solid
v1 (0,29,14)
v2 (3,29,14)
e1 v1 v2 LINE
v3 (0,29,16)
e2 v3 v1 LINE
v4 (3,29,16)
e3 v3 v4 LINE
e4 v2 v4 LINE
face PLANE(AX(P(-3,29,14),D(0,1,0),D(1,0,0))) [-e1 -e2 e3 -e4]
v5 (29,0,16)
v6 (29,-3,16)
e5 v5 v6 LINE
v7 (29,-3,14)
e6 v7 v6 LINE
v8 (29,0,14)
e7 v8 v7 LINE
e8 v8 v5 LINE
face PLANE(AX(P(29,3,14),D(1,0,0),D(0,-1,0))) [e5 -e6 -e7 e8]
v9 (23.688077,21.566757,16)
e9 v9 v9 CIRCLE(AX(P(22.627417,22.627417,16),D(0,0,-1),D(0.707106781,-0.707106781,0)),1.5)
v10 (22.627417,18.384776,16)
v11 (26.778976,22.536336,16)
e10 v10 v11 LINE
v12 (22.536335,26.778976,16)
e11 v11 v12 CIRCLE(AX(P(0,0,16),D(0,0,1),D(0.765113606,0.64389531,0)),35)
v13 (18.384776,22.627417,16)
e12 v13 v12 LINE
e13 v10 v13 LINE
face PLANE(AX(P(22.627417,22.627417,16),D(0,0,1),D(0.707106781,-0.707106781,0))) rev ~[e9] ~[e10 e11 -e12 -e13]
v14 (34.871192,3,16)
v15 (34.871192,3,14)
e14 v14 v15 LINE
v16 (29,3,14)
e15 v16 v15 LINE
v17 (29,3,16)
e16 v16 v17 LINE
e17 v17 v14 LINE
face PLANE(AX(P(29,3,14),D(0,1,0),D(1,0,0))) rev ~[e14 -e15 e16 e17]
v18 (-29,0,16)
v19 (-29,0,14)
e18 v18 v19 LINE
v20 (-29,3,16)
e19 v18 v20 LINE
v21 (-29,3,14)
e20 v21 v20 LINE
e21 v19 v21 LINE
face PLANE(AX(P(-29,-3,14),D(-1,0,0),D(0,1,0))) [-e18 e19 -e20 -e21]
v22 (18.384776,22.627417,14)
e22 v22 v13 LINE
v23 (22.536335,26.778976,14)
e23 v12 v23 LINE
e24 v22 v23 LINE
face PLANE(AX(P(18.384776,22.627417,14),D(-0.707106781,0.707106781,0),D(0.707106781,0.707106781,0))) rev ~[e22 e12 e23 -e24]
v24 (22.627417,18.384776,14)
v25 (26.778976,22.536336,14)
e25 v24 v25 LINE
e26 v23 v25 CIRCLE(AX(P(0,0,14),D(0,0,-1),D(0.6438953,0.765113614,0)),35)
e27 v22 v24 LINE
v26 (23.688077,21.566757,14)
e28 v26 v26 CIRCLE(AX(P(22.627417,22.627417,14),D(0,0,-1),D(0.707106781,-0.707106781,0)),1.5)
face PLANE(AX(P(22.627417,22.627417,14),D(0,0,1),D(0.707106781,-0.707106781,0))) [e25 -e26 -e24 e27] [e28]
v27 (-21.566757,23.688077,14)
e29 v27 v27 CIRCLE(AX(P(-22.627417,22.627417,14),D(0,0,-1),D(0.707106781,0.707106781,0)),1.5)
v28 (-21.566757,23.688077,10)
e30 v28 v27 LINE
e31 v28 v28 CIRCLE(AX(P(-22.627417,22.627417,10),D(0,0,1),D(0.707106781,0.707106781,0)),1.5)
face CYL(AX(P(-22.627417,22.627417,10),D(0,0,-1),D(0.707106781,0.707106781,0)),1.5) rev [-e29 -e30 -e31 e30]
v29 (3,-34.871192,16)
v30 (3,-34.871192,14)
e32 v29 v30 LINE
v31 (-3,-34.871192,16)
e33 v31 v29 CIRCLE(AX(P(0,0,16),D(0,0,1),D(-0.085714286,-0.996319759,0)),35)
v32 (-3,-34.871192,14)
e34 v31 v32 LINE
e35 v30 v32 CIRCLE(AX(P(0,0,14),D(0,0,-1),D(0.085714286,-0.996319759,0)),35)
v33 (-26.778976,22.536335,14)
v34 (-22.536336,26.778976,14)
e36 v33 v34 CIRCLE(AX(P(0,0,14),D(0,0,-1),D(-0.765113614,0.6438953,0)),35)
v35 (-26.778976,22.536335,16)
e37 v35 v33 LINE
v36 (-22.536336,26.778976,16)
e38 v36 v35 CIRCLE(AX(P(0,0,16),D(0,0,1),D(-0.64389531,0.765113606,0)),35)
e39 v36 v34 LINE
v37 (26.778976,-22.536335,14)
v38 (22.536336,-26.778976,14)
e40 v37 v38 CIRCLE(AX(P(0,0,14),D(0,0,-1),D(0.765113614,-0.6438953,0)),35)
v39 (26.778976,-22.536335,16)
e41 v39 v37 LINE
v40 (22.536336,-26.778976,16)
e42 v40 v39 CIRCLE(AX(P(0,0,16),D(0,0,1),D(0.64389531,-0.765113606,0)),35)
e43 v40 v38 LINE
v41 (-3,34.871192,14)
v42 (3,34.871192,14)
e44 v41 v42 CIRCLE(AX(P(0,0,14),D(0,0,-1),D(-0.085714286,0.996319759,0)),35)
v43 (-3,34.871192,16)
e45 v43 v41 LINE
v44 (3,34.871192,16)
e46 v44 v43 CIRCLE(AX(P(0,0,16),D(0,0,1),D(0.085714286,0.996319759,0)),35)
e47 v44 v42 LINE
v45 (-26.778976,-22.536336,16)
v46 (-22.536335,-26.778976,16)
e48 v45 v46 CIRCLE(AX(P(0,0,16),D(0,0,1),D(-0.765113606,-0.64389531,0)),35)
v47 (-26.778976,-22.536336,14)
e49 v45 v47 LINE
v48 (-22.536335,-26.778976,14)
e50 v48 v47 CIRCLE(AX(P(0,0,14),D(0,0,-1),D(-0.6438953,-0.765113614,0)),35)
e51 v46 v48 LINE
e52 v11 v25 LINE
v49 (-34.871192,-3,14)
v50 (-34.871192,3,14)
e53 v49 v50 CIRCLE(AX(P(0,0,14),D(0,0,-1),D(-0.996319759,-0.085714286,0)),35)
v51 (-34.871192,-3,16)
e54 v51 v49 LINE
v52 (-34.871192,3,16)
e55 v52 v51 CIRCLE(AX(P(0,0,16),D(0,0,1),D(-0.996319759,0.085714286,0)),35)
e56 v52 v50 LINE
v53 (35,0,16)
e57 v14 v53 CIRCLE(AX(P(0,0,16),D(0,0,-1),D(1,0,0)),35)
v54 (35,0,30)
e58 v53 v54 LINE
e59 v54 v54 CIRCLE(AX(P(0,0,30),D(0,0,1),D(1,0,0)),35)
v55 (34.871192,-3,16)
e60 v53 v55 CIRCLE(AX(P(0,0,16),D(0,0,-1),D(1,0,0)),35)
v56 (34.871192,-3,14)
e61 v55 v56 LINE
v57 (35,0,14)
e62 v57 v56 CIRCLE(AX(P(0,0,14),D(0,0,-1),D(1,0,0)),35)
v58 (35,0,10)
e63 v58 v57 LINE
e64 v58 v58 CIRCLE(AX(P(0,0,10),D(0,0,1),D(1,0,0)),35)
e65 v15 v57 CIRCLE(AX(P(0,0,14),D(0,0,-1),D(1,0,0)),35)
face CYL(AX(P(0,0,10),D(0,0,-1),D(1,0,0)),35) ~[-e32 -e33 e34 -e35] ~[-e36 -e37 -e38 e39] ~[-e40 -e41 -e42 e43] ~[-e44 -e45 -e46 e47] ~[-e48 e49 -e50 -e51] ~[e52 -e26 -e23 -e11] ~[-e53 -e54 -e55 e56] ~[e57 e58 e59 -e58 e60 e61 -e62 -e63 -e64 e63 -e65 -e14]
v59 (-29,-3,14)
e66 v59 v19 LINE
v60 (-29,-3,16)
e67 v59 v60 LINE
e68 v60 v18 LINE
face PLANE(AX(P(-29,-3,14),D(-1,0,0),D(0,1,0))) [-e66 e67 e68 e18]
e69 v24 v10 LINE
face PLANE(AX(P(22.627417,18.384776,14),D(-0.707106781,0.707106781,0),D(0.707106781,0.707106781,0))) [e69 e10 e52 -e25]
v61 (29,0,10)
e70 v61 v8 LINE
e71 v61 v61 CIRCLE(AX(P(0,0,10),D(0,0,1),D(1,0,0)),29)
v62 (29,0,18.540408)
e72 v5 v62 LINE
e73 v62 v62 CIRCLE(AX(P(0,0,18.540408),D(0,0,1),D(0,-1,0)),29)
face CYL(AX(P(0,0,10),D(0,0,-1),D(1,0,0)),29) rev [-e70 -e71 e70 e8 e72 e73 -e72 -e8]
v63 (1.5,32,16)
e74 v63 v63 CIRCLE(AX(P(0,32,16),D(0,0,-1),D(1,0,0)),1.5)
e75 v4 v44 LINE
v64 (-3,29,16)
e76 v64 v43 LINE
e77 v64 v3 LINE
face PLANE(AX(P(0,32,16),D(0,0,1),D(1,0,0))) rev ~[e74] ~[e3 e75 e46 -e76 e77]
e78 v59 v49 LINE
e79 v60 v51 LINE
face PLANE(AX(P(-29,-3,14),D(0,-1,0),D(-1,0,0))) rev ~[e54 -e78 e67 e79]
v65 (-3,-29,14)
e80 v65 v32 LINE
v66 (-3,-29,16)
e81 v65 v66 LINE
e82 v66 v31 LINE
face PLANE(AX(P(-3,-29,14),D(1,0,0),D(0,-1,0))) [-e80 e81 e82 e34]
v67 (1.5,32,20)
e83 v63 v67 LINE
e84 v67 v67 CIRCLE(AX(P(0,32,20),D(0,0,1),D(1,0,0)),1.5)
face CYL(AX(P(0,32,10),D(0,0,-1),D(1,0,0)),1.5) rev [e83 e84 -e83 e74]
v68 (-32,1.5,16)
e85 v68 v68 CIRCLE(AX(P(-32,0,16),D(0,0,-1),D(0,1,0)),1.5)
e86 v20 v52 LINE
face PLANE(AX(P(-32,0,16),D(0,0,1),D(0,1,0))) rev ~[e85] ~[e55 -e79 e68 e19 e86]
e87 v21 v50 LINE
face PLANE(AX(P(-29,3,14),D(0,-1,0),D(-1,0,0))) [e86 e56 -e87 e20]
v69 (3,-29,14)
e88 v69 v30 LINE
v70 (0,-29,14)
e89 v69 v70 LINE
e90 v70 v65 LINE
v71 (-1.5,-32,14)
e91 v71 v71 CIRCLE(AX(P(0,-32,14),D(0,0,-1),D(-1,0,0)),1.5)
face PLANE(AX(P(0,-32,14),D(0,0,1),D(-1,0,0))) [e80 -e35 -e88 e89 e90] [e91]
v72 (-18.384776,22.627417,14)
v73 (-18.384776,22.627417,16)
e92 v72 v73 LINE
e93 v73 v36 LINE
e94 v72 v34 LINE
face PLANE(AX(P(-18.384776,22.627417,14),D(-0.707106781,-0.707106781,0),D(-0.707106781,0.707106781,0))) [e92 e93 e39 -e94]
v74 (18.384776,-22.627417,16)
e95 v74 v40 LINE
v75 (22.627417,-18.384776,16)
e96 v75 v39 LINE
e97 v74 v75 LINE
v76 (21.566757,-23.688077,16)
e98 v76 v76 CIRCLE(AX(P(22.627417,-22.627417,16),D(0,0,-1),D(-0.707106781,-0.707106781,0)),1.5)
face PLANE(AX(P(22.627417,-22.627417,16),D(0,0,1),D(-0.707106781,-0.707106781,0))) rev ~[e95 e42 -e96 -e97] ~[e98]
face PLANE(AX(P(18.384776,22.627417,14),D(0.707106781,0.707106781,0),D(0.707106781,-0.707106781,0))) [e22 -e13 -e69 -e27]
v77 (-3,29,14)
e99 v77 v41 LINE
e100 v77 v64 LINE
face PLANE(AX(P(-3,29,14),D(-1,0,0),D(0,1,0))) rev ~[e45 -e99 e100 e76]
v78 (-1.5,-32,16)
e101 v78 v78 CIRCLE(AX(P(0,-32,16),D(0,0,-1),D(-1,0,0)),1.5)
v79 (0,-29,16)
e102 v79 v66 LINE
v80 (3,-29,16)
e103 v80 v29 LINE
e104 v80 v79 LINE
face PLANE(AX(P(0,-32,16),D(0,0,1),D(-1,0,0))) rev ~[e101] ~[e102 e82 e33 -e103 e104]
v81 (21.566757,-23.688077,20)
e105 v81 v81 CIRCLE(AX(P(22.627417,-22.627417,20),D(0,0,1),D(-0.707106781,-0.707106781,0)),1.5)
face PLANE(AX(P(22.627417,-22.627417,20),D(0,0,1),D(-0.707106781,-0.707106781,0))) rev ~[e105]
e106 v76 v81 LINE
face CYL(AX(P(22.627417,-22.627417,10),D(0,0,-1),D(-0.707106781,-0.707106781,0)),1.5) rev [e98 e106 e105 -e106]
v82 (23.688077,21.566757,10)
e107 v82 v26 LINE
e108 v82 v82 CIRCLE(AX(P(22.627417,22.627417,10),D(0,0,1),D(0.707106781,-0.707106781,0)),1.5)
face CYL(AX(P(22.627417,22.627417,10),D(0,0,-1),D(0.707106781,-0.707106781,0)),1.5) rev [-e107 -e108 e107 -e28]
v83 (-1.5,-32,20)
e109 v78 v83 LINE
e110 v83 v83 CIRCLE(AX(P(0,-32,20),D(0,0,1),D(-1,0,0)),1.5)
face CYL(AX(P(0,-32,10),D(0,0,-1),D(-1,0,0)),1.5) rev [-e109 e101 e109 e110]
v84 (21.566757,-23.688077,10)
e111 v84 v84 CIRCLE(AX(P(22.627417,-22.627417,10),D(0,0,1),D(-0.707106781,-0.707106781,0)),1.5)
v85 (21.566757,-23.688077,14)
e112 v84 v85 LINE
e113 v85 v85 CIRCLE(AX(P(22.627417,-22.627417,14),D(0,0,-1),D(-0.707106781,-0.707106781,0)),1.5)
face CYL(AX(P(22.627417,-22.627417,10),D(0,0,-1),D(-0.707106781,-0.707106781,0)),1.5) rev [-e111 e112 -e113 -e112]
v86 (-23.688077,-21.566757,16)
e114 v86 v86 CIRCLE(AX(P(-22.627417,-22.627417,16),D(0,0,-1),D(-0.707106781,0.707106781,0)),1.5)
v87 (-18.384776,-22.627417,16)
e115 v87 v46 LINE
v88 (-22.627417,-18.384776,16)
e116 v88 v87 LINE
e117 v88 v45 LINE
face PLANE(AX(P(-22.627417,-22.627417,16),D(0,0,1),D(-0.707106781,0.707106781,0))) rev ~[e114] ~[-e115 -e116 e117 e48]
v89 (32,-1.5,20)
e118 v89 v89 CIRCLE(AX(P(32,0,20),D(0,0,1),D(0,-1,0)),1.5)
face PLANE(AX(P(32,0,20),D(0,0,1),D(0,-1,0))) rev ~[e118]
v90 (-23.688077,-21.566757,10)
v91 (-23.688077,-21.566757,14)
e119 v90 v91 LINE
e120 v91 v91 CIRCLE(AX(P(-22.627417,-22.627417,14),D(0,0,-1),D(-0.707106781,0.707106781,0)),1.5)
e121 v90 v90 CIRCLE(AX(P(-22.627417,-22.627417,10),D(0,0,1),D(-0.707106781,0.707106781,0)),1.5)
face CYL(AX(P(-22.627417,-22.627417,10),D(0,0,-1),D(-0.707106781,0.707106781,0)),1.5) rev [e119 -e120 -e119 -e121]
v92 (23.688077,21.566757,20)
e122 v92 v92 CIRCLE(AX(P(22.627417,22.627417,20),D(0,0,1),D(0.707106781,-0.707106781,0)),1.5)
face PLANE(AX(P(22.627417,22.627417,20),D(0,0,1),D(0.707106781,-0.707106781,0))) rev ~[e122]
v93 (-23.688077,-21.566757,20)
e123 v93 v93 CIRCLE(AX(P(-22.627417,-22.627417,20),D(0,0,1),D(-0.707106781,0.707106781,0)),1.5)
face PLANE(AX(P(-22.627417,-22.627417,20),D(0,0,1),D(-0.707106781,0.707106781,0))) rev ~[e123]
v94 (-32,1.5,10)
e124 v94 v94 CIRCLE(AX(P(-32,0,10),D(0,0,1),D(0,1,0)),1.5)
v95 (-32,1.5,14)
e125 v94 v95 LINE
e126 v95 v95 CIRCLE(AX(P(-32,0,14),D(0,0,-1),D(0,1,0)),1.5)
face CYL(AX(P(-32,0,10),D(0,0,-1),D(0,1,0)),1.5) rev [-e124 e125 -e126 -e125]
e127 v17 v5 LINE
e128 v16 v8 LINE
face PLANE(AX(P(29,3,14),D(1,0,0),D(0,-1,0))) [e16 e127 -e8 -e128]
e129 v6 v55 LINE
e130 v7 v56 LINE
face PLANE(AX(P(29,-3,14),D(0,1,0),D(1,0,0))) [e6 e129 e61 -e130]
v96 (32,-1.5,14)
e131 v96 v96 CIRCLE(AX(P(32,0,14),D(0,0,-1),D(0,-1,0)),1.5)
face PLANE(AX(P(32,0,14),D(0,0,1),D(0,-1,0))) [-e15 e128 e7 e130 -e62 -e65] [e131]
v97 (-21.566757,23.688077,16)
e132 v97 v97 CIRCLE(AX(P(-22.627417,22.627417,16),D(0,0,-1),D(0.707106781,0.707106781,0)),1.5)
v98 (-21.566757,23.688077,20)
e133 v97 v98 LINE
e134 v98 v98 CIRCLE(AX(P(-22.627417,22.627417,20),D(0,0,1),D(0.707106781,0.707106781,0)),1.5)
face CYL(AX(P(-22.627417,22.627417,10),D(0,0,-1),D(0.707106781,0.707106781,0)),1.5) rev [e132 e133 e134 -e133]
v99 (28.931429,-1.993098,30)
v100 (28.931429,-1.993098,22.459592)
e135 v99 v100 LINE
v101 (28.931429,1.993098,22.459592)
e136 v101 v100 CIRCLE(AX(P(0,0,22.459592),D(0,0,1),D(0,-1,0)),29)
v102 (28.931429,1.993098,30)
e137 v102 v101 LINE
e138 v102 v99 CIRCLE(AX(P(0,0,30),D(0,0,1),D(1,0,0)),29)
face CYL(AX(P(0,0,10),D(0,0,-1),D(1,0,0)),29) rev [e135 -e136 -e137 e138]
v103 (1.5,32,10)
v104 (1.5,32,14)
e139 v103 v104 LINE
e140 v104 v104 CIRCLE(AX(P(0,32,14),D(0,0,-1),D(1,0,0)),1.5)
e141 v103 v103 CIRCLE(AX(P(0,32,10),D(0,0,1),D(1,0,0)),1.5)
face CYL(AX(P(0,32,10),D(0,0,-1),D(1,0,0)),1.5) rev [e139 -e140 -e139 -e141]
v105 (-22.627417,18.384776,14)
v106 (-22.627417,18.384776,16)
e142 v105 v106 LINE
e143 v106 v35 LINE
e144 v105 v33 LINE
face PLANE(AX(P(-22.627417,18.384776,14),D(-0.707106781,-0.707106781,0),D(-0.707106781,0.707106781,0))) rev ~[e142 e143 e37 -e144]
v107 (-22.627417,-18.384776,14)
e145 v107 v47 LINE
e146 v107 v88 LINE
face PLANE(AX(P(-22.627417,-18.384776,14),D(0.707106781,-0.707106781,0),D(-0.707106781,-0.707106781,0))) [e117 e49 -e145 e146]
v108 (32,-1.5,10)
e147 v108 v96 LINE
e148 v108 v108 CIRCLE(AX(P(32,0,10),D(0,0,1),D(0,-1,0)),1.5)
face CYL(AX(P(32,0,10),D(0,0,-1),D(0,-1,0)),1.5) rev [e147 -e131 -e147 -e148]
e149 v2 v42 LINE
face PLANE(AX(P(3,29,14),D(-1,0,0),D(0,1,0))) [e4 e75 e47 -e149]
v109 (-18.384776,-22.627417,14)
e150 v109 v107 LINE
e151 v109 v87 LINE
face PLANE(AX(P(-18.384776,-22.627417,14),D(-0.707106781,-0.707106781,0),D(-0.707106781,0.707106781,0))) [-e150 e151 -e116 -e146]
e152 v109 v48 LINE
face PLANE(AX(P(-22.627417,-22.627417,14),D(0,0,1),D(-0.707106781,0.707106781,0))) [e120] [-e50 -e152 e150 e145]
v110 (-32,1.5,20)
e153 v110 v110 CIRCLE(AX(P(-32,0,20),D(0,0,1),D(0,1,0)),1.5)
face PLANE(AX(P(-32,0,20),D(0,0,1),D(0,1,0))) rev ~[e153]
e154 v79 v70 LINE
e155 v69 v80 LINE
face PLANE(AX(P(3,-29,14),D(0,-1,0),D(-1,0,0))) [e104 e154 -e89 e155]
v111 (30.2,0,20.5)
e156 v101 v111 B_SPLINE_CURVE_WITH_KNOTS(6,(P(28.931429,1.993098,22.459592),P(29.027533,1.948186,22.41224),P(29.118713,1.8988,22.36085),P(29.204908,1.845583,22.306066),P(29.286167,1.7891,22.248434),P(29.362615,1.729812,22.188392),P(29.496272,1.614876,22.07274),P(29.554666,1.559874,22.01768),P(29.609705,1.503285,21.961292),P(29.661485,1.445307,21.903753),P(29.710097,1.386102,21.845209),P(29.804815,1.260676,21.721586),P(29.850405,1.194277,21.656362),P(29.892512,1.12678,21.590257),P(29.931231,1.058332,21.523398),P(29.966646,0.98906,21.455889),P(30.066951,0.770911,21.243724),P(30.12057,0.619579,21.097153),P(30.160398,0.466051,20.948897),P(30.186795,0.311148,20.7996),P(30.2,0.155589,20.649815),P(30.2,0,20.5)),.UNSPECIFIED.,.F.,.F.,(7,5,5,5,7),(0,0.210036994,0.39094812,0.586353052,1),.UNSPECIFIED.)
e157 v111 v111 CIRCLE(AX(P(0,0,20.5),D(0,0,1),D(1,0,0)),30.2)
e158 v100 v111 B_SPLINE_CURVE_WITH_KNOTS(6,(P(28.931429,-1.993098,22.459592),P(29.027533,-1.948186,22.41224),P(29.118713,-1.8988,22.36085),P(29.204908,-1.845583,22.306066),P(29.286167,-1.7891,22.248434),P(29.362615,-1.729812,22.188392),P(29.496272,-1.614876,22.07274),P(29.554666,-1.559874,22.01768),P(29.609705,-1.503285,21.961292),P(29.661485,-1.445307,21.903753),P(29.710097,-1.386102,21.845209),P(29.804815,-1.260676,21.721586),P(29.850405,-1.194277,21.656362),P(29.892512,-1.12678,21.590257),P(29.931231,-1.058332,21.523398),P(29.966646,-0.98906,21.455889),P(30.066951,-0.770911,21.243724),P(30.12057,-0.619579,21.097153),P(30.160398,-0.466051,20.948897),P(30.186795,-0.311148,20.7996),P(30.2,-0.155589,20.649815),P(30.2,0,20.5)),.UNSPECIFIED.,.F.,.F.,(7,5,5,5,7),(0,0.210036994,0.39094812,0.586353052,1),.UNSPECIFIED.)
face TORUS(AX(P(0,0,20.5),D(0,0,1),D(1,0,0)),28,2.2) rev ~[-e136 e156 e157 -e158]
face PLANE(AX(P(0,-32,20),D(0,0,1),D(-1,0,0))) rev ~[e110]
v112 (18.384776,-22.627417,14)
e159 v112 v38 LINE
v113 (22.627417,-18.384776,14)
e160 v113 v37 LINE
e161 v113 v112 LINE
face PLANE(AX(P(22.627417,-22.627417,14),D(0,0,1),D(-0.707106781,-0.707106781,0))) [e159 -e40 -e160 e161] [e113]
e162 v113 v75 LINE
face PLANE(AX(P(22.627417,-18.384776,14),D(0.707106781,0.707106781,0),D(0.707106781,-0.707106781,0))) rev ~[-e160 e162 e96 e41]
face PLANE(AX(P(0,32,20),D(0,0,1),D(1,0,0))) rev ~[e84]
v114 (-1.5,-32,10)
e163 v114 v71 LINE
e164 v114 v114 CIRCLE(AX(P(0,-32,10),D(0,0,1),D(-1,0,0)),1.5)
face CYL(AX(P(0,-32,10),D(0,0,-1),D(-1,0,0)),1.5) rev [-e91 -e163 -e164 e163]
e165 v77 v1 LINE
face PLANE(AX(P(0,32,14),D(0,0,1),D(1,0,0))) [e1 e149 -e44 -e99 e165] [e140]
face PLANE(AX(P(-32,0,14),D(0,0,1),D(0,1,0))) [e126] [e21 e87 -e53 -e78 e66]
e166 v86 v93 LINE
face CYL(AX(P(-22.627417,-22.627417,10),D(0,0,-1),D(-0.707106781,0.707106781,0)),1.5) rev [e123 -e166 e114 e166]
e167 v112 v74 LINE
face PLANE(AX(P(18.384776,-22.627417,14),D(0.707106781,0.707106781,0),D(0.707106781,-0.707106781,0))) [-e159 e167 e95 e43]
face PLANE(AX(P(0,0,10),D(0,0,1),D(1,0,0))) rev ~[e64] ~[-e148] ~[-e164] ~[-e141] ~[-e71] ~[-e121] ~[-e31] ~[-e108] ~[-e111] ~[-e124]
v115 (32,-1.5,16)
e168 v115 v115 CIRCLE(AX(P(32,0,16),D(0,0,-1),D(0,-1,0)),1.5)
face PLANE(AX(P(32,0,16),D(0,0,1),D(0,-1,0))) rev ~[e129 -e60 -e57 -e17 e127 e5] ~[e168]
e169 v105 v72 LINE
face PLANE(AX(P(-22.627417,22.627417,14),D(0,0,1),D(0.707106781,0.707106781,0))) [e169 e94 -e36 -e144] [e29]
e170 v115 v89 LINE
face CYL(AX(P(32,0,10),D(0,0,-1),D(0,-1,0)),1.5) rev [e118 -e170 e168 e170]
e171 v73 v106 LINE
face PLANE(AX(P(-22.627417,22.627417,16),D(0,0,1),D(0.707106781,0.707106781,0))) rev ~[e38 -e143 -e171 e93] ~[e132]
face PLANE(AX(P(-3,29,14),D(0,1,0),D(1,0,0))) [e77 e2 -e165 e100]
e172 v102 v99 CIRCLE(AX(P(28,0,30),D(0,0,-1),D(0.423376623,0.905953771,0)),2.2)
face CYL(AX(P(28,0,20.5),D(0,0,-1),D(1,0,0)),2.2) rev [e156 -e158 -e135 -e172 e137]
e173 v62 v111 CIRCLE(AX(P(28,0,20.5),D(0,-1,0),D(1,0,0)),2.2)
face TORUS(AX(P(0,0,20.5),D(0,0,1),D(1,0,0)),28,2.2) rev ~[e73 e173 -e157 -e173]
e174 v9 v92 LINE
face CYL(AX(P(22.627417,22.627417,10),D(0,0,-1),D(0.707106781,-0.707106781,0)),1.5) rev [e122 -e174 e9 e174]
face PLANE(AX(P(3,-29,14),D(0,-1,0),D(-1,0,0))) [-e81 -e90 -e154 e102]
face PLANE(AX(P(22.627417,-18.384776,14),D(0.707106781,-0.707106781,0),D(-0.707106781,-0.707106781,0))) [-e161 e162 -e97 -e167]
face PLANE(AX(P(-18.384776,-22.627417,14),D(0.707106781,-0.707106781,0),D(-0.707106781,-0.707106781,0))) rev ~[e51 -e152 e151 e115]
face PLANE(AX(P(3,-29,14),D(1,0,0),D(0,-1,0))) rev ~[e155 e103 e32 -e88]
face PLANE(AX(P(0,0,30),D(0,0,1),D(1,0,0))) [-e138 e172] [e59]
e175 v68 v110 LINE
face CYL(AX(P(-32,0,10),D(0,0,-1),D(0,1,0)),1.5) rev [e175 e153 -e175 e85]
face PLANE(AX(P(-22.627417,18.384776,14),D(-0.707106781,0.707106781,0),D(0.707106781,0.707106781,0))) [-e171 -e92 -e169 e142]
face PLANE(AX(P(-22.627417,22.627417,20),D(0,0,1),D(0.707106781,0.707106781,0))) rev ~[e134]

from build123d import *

# Parameters (mm, degrees)
BOX754_W                     = 6
BOX754_H                     = 6
BOX754_DEPTH                 = 2
BOX756_W                     = 6
BOX756_H                     = 6
BOX756_DEPTH                 = 2
BOX756_PLACEMENT_ANGLE       = 135
BOX753_W                     = 6
BOX753_H                     = 6
BOX753_DEPTH                 = 2
BOX750_W                     = 6
BOX750_H                     = 6
BOX750_DEPTH                 = 2
BOX750_PLACEMENT_ANGLE       = 225
BOX751_W                     = 6
BOX751_H                     = 6
BOX751_DEPTH                 = 2
BOX752_W                     = 6
BOX752_H                     = 6
BOX752_DEPTH                 = 2
BOX752_PLACEMENT_ANGLE       = 45
BOX757_W                     = 6
BOX757_H                     = 6
BOX757_DEPTH                 = 2
BOX749_W                     = 6
BOX749_H                     = 6
BOX749_DEPTH                 = 2
BOX749_PLACEMENT_ANGLE       = 45
CYLINDER1963_R               = 1.5
CYLINDER1963_DEPTH           = 10
CYLINDER1962_R               = 1.5
CYLINDER1962_DEPTH           = 10
CYLINDER1962_PLACEMENT_ANGLE = 135
CYLINDER1954_R               = 1.5
CYLINDER1954_DEPTH           = 10
CYLINDER1952_R               = 1.5
CYLINDER1952_DEPTH           = 10
CYLINDER1952_PLACEMENT_ANGLE = 225
CYLINDER1955_R               = 1.5
CYLINDER1955_DEPTH           = 10
CYLINDER1950_R               = 1.5
CYLINDER1950_DEPTH           = 10
CYLINDER1950_PLACEMENT_ANGLE = 45
CYLINDER1960_R               = 1.5
CYLINDER1960_DEPTH           = 10
CYLINDER1961_R               = 1.5
CYLINDER1961_DEPTH           = 10
CYLINDER1961_PLACEMENT_ANGLE = 45
CYLINDER1956_R               = 2.2
CYLINDER1956_DEPTH           = 10
TORUS003_R                   = 2.2
TUBE101_R                    = 35
TUBE101_R_2                  = 29
TUBE101_DEPTH                = 20


with BuildPart() as krychle754:
    # Box754 → Box754 (new body)
    with BuildSketch(Plane(origin=(-29, -3, 14), x_dir=(0, 1, 0), z_dir=(0, 0, 1))):
        with Locations((3, 3)):
            Rectangle(BOX754_W, BOX754_H)
    extrude(amount=BOX754_DEPTH)


with BuildPart() as krychle756:
    # Box756 → Box756 (new body)
    with BuildSketch(Plane.XY):
        with Locations((3, 3)):
            Rectangle(BOX756_W, BOX756_H)
    extrude(amount=BOX756_DEPTH)


with BuildPart() as krychle756_1:
    # Box756 placement: moved
    add(krychle756.part.moved(Location((-18.384776, -22.627417, 14))).rotate(Axis((-18.384776, -22.627417, 14), (0, 0, 1)), BOX756_PLACEMENT_ANGLE))


with BuildPart() as krychle753:
    # Box753 → Box753 (new body)
    with BuildSketch(Plane(origin=(3, -29, 14), x_dir=(-1, 0, 0), z_dir=(0, 0, 1))):
        with Locations((3, 3)):
            Rectangle(BOX753_W, BOX753_H)
    extrude(amount=BOX753_DEPTH)


with BuildPart() as krychle750:
    # Box750 → Box750 (new body)
    with BuildSketch(Plane.XY):
        with Locations((3, 3)):
            Rectangle(BOX750_W, BOX750_H)
    extrude(amount=BOX750_DEPTH)


with BuildPart() as krychle750_1:
    # Box750 placement: moved
    add(krychle750.part.moved(Location((22.627417, -18.384776, 14))).rotate(Axis((22.627417, -18.384776, 14), (0, 0, 1)), BOX750_PLACEMENT_ANGLE))


with BuildPart() as krychle751:
    # Box751 → Box751 (new body)
    with BuildSketch(Plane(origin=(29, 3, 14), x_dir=(0, -1, 0), z_dir=(0, 0, 1))):
        with Locations((3, 3)):
            Rectangle(BOX751_W, BOX751_H)
    extrude(amount=BOX751_DEPTH)


with BuildPart() as krychle752:
    # Box752 → Box752 (new body)
    with BuildSketch(Plane.XY):
        with Locations((3, 3)):
            Rectangle(BOX752_W, BOX752_H)
    extrude(amount=BOX752_DEPTH)


with BuildPart() as krychle752_1:
    # Box752 placement: moved
    add(krychle752.part.moved(Location((18.384776, 22.627417, 14))).rotate(Axis((18.384776, 22.627417, 14), (0, 0, -1)), BOX752_PLACEMENT_ANGLE))


with BuildPart() as krychle757:
    # Box757 → Box757 (new body)
    with BuildSketch(Plane(origin=(-3, 29, 14), x_dir=(1, 0, 0), z_dir=(0, 0, 1))):
        with Locations((3, 3)):
            Rectangle(BOX757_W, BOX757_H)
    extrude(amount=BOX757_DEPTH)


with BuildPart() as compound927:
    # Box749 → Box749 (new body)
    with BuildSketch(Plane.XY):
        with Locations((3, 3)):
            Rectangle(BOX749_W, BOX749_H)
    extrude(amount=BOX749_DEPTH)


with BuildPart() as compound927_1:
    # Box749 placement: moved
    add(compound927.part.moved(Location((-22.627417, 18.384776, 14))).rotate(Axis((-22.627417, 18.384776, 14), (0, 0, 1)), BOX749_PLACEMENT_ANGLE))

    # Compound927: union Krychle754, Krychle756, Krychle753, Krychle750, Krychle751, Krychle752, Krychle757
    add(krychle754.part)
    add(krychle756_1.part)
    add(krychle753.part)
    add(krychle750_1.part)
    add(krychle751.part)
    add(krychle752_1.part)
    add(krychle757.part)


with BuildPart() as v_lec1963:
    # Cylinder1963 → Cylinder1963 (new body)
    with BuildSketch(Plane(origin=(-32, 0, 10), x_dir=(0, 1, 0), z_dir=(0, 0, 1))):
        Circle(CYLINDER1963_R)
    extrude(amount=CYLINDER1963_DEPTH)


with BuildPart() as v_lec1962:
    # Cylinder1962 → Cylinder1962 (new body)
    with BuildSketch(Plane.XY):
        Circle(CYLINDER1962_R)
    extrude(amount=CYLINDER1962_DEPTH)


with BuildPart() as v_lec1962_1:
    # Cylinder1962 placement: moved
    add(v_lec1962.part.moved(Location((-22.627417, -22.627417, 10))).rotate(Axis((-22.627417, -22.627417, 10), (0, 0, 1)), CYLINDER1962_PLACEMENT_ANGLE))


with BuildPart() as v_lec1954:
    # Cylinder1954 → Cylinder1954 (new body)
    with BuildSketch(Plane(origin=(0, -32, 10), x_dir=(-1, 0, 0), z_dir=(0, 0, 1))):
        Circle(CYLINDER1954_R)
    extrude(amount=CYLINDER1954_DEPTH)


with BuildPart() as v_lec1952:
    # Cylinder1952 → Cylinder1952 (new body)
    with BuildSketch(Plane.XY):
        Circle(CYLINDER1952_R)
    extrude(amount=CYLINDER1952_DEPTH)


with BuildPart() as v_lec1952_1:
    # Cylinder1952 placement: moved
    add(v_lec1952.part.moved(Location((22.627417, -22.627417, 10))).rotate(Axis((22.627417, -22.627417, 10), (0, 0, 1)), CYLINDER1952_PLACEMENT_ANGLE))


with BuildPart() as v_lec1955:
    # Cylinder1955 → Cylinder1955 (new body)
    with BuildSketch(Plane(origin=(32, 0, 10), x_dir=(0, -1, 0), z_dir=(0, 0, 1))):
        Circle(CYLINDER1955_R)
    extrude(amount=CYLINDER1955_DEPTH)


with BuildPart() as v_lec1950:
    # Cylinder1950 → Cylinder1950 (new body)
    with BuildSketch(Plane.XY):
        Circle(CYLINDER1950_R)
    extrude(amount=CYLINDER1950_DEPTH)


with BuildPart() as v_lec1950_1:
    # Cylinder1950 placement: moved
    add(v_lec1950.part.moved(Location((22.627417, 22.627417, 10))).rotate(Axis((22.627417, 22.627417, 10), (0, 0, -1)), CYLINDER1950_PLACEMENT_ANGLE))


with BuildPart() as v_lec1960:
    # Cylinder1960 → Cylinder1960 (new body)
    with BuildSketch(Plane(origin=(0, 32, 10), x_dir=(1, 0, 0), z_dir=(0, 0, 1))):
        Circle(CYLINDER1960_R)
    extrude(amount=CYLINDER1960_DEPTH)


with BuildPart() as compound929:
    # Cylinder1961 → Cylinder1961 (new body)
    with BuildSketch(Plane.XY):
        Circle(CYLINDER1961_R)
    extrude(amount=CYLINDER1961_DEPTH)


with BuildPart() as compound929_1:
    # Cylinder1961 placement: moved
    add(compound929.part.moved(Location((-22.627417, 22.627417, 10))).rotate(Axis((-22.627417, 22.627417, 10), (0, 0, 1)), CYLINDER1961_PLACEMENT_ANGLE))

    # Compound929: union Válec1963, Válec1962, Válec1954, Válec1952, Válec1955, Válec1950, Válec1960
    add(v_lec1963.part)
    add(v_lec1962_1.part)
    add(v_lec1954.part)
    add(v_lec1952_1.part)
    add(v_lec1955.part)
    add(v_lec1950_1.part)
    add(v_lec1960.part)


with BuildPart() as v_lec1956:
    # Cylinder1956 → Cylinder1956 (new body)
    with BuildSketch(Plane(origin=(28, 0, 20.5), x_dir=(1, 0, 0), z_dir=(0, 0, 1))):
        Circle(CYLINDER1956_R)
    extrude(amount=CYLINDER1956_DEPTH)


with BuildPart() as anuloid003:
    # Torus003 → Torus003 (revolve)
    with BuildSketch(Plane(origin=(0, 0, 20.5), x_dir=(1, 0, 0), z_dir=(0, -1, 0))):
        with Locations((28, 0)):
            Circle(TORUS003_R)
    revolve(axis=Axis((0, 0, 20.5), (0, 0, 1)))


with BuildPart() as gearovina_midi_loziskovina002:
    # Tube101 → Tube101 (new body)
    with BuildSketch(Plane.XY.offset(10)):
        Circle(TUBE101_R)
        Circle(TUBE101_R_2, mode=Mode.SUBTRACT)
    extrude(amount=TUBE101_DEPTH)

    # Cut580: cut Anuloid003
    add(anuloid003.part, mode=Mode.SUBTRACT)

    # Cut582: cut Válec1956
    add(v_lec1956.part, mode=Mode.SUBTRACT)

    # Cut579: cut Compound929
    add(compound929_1.part, mode=Mode.SUBTRACT)

    # Cut575: cut Compound927
    add(compound927_1.part, mode=Mode.SUBTRACT)


solid = gearovina_midi_loziskovina002.part
